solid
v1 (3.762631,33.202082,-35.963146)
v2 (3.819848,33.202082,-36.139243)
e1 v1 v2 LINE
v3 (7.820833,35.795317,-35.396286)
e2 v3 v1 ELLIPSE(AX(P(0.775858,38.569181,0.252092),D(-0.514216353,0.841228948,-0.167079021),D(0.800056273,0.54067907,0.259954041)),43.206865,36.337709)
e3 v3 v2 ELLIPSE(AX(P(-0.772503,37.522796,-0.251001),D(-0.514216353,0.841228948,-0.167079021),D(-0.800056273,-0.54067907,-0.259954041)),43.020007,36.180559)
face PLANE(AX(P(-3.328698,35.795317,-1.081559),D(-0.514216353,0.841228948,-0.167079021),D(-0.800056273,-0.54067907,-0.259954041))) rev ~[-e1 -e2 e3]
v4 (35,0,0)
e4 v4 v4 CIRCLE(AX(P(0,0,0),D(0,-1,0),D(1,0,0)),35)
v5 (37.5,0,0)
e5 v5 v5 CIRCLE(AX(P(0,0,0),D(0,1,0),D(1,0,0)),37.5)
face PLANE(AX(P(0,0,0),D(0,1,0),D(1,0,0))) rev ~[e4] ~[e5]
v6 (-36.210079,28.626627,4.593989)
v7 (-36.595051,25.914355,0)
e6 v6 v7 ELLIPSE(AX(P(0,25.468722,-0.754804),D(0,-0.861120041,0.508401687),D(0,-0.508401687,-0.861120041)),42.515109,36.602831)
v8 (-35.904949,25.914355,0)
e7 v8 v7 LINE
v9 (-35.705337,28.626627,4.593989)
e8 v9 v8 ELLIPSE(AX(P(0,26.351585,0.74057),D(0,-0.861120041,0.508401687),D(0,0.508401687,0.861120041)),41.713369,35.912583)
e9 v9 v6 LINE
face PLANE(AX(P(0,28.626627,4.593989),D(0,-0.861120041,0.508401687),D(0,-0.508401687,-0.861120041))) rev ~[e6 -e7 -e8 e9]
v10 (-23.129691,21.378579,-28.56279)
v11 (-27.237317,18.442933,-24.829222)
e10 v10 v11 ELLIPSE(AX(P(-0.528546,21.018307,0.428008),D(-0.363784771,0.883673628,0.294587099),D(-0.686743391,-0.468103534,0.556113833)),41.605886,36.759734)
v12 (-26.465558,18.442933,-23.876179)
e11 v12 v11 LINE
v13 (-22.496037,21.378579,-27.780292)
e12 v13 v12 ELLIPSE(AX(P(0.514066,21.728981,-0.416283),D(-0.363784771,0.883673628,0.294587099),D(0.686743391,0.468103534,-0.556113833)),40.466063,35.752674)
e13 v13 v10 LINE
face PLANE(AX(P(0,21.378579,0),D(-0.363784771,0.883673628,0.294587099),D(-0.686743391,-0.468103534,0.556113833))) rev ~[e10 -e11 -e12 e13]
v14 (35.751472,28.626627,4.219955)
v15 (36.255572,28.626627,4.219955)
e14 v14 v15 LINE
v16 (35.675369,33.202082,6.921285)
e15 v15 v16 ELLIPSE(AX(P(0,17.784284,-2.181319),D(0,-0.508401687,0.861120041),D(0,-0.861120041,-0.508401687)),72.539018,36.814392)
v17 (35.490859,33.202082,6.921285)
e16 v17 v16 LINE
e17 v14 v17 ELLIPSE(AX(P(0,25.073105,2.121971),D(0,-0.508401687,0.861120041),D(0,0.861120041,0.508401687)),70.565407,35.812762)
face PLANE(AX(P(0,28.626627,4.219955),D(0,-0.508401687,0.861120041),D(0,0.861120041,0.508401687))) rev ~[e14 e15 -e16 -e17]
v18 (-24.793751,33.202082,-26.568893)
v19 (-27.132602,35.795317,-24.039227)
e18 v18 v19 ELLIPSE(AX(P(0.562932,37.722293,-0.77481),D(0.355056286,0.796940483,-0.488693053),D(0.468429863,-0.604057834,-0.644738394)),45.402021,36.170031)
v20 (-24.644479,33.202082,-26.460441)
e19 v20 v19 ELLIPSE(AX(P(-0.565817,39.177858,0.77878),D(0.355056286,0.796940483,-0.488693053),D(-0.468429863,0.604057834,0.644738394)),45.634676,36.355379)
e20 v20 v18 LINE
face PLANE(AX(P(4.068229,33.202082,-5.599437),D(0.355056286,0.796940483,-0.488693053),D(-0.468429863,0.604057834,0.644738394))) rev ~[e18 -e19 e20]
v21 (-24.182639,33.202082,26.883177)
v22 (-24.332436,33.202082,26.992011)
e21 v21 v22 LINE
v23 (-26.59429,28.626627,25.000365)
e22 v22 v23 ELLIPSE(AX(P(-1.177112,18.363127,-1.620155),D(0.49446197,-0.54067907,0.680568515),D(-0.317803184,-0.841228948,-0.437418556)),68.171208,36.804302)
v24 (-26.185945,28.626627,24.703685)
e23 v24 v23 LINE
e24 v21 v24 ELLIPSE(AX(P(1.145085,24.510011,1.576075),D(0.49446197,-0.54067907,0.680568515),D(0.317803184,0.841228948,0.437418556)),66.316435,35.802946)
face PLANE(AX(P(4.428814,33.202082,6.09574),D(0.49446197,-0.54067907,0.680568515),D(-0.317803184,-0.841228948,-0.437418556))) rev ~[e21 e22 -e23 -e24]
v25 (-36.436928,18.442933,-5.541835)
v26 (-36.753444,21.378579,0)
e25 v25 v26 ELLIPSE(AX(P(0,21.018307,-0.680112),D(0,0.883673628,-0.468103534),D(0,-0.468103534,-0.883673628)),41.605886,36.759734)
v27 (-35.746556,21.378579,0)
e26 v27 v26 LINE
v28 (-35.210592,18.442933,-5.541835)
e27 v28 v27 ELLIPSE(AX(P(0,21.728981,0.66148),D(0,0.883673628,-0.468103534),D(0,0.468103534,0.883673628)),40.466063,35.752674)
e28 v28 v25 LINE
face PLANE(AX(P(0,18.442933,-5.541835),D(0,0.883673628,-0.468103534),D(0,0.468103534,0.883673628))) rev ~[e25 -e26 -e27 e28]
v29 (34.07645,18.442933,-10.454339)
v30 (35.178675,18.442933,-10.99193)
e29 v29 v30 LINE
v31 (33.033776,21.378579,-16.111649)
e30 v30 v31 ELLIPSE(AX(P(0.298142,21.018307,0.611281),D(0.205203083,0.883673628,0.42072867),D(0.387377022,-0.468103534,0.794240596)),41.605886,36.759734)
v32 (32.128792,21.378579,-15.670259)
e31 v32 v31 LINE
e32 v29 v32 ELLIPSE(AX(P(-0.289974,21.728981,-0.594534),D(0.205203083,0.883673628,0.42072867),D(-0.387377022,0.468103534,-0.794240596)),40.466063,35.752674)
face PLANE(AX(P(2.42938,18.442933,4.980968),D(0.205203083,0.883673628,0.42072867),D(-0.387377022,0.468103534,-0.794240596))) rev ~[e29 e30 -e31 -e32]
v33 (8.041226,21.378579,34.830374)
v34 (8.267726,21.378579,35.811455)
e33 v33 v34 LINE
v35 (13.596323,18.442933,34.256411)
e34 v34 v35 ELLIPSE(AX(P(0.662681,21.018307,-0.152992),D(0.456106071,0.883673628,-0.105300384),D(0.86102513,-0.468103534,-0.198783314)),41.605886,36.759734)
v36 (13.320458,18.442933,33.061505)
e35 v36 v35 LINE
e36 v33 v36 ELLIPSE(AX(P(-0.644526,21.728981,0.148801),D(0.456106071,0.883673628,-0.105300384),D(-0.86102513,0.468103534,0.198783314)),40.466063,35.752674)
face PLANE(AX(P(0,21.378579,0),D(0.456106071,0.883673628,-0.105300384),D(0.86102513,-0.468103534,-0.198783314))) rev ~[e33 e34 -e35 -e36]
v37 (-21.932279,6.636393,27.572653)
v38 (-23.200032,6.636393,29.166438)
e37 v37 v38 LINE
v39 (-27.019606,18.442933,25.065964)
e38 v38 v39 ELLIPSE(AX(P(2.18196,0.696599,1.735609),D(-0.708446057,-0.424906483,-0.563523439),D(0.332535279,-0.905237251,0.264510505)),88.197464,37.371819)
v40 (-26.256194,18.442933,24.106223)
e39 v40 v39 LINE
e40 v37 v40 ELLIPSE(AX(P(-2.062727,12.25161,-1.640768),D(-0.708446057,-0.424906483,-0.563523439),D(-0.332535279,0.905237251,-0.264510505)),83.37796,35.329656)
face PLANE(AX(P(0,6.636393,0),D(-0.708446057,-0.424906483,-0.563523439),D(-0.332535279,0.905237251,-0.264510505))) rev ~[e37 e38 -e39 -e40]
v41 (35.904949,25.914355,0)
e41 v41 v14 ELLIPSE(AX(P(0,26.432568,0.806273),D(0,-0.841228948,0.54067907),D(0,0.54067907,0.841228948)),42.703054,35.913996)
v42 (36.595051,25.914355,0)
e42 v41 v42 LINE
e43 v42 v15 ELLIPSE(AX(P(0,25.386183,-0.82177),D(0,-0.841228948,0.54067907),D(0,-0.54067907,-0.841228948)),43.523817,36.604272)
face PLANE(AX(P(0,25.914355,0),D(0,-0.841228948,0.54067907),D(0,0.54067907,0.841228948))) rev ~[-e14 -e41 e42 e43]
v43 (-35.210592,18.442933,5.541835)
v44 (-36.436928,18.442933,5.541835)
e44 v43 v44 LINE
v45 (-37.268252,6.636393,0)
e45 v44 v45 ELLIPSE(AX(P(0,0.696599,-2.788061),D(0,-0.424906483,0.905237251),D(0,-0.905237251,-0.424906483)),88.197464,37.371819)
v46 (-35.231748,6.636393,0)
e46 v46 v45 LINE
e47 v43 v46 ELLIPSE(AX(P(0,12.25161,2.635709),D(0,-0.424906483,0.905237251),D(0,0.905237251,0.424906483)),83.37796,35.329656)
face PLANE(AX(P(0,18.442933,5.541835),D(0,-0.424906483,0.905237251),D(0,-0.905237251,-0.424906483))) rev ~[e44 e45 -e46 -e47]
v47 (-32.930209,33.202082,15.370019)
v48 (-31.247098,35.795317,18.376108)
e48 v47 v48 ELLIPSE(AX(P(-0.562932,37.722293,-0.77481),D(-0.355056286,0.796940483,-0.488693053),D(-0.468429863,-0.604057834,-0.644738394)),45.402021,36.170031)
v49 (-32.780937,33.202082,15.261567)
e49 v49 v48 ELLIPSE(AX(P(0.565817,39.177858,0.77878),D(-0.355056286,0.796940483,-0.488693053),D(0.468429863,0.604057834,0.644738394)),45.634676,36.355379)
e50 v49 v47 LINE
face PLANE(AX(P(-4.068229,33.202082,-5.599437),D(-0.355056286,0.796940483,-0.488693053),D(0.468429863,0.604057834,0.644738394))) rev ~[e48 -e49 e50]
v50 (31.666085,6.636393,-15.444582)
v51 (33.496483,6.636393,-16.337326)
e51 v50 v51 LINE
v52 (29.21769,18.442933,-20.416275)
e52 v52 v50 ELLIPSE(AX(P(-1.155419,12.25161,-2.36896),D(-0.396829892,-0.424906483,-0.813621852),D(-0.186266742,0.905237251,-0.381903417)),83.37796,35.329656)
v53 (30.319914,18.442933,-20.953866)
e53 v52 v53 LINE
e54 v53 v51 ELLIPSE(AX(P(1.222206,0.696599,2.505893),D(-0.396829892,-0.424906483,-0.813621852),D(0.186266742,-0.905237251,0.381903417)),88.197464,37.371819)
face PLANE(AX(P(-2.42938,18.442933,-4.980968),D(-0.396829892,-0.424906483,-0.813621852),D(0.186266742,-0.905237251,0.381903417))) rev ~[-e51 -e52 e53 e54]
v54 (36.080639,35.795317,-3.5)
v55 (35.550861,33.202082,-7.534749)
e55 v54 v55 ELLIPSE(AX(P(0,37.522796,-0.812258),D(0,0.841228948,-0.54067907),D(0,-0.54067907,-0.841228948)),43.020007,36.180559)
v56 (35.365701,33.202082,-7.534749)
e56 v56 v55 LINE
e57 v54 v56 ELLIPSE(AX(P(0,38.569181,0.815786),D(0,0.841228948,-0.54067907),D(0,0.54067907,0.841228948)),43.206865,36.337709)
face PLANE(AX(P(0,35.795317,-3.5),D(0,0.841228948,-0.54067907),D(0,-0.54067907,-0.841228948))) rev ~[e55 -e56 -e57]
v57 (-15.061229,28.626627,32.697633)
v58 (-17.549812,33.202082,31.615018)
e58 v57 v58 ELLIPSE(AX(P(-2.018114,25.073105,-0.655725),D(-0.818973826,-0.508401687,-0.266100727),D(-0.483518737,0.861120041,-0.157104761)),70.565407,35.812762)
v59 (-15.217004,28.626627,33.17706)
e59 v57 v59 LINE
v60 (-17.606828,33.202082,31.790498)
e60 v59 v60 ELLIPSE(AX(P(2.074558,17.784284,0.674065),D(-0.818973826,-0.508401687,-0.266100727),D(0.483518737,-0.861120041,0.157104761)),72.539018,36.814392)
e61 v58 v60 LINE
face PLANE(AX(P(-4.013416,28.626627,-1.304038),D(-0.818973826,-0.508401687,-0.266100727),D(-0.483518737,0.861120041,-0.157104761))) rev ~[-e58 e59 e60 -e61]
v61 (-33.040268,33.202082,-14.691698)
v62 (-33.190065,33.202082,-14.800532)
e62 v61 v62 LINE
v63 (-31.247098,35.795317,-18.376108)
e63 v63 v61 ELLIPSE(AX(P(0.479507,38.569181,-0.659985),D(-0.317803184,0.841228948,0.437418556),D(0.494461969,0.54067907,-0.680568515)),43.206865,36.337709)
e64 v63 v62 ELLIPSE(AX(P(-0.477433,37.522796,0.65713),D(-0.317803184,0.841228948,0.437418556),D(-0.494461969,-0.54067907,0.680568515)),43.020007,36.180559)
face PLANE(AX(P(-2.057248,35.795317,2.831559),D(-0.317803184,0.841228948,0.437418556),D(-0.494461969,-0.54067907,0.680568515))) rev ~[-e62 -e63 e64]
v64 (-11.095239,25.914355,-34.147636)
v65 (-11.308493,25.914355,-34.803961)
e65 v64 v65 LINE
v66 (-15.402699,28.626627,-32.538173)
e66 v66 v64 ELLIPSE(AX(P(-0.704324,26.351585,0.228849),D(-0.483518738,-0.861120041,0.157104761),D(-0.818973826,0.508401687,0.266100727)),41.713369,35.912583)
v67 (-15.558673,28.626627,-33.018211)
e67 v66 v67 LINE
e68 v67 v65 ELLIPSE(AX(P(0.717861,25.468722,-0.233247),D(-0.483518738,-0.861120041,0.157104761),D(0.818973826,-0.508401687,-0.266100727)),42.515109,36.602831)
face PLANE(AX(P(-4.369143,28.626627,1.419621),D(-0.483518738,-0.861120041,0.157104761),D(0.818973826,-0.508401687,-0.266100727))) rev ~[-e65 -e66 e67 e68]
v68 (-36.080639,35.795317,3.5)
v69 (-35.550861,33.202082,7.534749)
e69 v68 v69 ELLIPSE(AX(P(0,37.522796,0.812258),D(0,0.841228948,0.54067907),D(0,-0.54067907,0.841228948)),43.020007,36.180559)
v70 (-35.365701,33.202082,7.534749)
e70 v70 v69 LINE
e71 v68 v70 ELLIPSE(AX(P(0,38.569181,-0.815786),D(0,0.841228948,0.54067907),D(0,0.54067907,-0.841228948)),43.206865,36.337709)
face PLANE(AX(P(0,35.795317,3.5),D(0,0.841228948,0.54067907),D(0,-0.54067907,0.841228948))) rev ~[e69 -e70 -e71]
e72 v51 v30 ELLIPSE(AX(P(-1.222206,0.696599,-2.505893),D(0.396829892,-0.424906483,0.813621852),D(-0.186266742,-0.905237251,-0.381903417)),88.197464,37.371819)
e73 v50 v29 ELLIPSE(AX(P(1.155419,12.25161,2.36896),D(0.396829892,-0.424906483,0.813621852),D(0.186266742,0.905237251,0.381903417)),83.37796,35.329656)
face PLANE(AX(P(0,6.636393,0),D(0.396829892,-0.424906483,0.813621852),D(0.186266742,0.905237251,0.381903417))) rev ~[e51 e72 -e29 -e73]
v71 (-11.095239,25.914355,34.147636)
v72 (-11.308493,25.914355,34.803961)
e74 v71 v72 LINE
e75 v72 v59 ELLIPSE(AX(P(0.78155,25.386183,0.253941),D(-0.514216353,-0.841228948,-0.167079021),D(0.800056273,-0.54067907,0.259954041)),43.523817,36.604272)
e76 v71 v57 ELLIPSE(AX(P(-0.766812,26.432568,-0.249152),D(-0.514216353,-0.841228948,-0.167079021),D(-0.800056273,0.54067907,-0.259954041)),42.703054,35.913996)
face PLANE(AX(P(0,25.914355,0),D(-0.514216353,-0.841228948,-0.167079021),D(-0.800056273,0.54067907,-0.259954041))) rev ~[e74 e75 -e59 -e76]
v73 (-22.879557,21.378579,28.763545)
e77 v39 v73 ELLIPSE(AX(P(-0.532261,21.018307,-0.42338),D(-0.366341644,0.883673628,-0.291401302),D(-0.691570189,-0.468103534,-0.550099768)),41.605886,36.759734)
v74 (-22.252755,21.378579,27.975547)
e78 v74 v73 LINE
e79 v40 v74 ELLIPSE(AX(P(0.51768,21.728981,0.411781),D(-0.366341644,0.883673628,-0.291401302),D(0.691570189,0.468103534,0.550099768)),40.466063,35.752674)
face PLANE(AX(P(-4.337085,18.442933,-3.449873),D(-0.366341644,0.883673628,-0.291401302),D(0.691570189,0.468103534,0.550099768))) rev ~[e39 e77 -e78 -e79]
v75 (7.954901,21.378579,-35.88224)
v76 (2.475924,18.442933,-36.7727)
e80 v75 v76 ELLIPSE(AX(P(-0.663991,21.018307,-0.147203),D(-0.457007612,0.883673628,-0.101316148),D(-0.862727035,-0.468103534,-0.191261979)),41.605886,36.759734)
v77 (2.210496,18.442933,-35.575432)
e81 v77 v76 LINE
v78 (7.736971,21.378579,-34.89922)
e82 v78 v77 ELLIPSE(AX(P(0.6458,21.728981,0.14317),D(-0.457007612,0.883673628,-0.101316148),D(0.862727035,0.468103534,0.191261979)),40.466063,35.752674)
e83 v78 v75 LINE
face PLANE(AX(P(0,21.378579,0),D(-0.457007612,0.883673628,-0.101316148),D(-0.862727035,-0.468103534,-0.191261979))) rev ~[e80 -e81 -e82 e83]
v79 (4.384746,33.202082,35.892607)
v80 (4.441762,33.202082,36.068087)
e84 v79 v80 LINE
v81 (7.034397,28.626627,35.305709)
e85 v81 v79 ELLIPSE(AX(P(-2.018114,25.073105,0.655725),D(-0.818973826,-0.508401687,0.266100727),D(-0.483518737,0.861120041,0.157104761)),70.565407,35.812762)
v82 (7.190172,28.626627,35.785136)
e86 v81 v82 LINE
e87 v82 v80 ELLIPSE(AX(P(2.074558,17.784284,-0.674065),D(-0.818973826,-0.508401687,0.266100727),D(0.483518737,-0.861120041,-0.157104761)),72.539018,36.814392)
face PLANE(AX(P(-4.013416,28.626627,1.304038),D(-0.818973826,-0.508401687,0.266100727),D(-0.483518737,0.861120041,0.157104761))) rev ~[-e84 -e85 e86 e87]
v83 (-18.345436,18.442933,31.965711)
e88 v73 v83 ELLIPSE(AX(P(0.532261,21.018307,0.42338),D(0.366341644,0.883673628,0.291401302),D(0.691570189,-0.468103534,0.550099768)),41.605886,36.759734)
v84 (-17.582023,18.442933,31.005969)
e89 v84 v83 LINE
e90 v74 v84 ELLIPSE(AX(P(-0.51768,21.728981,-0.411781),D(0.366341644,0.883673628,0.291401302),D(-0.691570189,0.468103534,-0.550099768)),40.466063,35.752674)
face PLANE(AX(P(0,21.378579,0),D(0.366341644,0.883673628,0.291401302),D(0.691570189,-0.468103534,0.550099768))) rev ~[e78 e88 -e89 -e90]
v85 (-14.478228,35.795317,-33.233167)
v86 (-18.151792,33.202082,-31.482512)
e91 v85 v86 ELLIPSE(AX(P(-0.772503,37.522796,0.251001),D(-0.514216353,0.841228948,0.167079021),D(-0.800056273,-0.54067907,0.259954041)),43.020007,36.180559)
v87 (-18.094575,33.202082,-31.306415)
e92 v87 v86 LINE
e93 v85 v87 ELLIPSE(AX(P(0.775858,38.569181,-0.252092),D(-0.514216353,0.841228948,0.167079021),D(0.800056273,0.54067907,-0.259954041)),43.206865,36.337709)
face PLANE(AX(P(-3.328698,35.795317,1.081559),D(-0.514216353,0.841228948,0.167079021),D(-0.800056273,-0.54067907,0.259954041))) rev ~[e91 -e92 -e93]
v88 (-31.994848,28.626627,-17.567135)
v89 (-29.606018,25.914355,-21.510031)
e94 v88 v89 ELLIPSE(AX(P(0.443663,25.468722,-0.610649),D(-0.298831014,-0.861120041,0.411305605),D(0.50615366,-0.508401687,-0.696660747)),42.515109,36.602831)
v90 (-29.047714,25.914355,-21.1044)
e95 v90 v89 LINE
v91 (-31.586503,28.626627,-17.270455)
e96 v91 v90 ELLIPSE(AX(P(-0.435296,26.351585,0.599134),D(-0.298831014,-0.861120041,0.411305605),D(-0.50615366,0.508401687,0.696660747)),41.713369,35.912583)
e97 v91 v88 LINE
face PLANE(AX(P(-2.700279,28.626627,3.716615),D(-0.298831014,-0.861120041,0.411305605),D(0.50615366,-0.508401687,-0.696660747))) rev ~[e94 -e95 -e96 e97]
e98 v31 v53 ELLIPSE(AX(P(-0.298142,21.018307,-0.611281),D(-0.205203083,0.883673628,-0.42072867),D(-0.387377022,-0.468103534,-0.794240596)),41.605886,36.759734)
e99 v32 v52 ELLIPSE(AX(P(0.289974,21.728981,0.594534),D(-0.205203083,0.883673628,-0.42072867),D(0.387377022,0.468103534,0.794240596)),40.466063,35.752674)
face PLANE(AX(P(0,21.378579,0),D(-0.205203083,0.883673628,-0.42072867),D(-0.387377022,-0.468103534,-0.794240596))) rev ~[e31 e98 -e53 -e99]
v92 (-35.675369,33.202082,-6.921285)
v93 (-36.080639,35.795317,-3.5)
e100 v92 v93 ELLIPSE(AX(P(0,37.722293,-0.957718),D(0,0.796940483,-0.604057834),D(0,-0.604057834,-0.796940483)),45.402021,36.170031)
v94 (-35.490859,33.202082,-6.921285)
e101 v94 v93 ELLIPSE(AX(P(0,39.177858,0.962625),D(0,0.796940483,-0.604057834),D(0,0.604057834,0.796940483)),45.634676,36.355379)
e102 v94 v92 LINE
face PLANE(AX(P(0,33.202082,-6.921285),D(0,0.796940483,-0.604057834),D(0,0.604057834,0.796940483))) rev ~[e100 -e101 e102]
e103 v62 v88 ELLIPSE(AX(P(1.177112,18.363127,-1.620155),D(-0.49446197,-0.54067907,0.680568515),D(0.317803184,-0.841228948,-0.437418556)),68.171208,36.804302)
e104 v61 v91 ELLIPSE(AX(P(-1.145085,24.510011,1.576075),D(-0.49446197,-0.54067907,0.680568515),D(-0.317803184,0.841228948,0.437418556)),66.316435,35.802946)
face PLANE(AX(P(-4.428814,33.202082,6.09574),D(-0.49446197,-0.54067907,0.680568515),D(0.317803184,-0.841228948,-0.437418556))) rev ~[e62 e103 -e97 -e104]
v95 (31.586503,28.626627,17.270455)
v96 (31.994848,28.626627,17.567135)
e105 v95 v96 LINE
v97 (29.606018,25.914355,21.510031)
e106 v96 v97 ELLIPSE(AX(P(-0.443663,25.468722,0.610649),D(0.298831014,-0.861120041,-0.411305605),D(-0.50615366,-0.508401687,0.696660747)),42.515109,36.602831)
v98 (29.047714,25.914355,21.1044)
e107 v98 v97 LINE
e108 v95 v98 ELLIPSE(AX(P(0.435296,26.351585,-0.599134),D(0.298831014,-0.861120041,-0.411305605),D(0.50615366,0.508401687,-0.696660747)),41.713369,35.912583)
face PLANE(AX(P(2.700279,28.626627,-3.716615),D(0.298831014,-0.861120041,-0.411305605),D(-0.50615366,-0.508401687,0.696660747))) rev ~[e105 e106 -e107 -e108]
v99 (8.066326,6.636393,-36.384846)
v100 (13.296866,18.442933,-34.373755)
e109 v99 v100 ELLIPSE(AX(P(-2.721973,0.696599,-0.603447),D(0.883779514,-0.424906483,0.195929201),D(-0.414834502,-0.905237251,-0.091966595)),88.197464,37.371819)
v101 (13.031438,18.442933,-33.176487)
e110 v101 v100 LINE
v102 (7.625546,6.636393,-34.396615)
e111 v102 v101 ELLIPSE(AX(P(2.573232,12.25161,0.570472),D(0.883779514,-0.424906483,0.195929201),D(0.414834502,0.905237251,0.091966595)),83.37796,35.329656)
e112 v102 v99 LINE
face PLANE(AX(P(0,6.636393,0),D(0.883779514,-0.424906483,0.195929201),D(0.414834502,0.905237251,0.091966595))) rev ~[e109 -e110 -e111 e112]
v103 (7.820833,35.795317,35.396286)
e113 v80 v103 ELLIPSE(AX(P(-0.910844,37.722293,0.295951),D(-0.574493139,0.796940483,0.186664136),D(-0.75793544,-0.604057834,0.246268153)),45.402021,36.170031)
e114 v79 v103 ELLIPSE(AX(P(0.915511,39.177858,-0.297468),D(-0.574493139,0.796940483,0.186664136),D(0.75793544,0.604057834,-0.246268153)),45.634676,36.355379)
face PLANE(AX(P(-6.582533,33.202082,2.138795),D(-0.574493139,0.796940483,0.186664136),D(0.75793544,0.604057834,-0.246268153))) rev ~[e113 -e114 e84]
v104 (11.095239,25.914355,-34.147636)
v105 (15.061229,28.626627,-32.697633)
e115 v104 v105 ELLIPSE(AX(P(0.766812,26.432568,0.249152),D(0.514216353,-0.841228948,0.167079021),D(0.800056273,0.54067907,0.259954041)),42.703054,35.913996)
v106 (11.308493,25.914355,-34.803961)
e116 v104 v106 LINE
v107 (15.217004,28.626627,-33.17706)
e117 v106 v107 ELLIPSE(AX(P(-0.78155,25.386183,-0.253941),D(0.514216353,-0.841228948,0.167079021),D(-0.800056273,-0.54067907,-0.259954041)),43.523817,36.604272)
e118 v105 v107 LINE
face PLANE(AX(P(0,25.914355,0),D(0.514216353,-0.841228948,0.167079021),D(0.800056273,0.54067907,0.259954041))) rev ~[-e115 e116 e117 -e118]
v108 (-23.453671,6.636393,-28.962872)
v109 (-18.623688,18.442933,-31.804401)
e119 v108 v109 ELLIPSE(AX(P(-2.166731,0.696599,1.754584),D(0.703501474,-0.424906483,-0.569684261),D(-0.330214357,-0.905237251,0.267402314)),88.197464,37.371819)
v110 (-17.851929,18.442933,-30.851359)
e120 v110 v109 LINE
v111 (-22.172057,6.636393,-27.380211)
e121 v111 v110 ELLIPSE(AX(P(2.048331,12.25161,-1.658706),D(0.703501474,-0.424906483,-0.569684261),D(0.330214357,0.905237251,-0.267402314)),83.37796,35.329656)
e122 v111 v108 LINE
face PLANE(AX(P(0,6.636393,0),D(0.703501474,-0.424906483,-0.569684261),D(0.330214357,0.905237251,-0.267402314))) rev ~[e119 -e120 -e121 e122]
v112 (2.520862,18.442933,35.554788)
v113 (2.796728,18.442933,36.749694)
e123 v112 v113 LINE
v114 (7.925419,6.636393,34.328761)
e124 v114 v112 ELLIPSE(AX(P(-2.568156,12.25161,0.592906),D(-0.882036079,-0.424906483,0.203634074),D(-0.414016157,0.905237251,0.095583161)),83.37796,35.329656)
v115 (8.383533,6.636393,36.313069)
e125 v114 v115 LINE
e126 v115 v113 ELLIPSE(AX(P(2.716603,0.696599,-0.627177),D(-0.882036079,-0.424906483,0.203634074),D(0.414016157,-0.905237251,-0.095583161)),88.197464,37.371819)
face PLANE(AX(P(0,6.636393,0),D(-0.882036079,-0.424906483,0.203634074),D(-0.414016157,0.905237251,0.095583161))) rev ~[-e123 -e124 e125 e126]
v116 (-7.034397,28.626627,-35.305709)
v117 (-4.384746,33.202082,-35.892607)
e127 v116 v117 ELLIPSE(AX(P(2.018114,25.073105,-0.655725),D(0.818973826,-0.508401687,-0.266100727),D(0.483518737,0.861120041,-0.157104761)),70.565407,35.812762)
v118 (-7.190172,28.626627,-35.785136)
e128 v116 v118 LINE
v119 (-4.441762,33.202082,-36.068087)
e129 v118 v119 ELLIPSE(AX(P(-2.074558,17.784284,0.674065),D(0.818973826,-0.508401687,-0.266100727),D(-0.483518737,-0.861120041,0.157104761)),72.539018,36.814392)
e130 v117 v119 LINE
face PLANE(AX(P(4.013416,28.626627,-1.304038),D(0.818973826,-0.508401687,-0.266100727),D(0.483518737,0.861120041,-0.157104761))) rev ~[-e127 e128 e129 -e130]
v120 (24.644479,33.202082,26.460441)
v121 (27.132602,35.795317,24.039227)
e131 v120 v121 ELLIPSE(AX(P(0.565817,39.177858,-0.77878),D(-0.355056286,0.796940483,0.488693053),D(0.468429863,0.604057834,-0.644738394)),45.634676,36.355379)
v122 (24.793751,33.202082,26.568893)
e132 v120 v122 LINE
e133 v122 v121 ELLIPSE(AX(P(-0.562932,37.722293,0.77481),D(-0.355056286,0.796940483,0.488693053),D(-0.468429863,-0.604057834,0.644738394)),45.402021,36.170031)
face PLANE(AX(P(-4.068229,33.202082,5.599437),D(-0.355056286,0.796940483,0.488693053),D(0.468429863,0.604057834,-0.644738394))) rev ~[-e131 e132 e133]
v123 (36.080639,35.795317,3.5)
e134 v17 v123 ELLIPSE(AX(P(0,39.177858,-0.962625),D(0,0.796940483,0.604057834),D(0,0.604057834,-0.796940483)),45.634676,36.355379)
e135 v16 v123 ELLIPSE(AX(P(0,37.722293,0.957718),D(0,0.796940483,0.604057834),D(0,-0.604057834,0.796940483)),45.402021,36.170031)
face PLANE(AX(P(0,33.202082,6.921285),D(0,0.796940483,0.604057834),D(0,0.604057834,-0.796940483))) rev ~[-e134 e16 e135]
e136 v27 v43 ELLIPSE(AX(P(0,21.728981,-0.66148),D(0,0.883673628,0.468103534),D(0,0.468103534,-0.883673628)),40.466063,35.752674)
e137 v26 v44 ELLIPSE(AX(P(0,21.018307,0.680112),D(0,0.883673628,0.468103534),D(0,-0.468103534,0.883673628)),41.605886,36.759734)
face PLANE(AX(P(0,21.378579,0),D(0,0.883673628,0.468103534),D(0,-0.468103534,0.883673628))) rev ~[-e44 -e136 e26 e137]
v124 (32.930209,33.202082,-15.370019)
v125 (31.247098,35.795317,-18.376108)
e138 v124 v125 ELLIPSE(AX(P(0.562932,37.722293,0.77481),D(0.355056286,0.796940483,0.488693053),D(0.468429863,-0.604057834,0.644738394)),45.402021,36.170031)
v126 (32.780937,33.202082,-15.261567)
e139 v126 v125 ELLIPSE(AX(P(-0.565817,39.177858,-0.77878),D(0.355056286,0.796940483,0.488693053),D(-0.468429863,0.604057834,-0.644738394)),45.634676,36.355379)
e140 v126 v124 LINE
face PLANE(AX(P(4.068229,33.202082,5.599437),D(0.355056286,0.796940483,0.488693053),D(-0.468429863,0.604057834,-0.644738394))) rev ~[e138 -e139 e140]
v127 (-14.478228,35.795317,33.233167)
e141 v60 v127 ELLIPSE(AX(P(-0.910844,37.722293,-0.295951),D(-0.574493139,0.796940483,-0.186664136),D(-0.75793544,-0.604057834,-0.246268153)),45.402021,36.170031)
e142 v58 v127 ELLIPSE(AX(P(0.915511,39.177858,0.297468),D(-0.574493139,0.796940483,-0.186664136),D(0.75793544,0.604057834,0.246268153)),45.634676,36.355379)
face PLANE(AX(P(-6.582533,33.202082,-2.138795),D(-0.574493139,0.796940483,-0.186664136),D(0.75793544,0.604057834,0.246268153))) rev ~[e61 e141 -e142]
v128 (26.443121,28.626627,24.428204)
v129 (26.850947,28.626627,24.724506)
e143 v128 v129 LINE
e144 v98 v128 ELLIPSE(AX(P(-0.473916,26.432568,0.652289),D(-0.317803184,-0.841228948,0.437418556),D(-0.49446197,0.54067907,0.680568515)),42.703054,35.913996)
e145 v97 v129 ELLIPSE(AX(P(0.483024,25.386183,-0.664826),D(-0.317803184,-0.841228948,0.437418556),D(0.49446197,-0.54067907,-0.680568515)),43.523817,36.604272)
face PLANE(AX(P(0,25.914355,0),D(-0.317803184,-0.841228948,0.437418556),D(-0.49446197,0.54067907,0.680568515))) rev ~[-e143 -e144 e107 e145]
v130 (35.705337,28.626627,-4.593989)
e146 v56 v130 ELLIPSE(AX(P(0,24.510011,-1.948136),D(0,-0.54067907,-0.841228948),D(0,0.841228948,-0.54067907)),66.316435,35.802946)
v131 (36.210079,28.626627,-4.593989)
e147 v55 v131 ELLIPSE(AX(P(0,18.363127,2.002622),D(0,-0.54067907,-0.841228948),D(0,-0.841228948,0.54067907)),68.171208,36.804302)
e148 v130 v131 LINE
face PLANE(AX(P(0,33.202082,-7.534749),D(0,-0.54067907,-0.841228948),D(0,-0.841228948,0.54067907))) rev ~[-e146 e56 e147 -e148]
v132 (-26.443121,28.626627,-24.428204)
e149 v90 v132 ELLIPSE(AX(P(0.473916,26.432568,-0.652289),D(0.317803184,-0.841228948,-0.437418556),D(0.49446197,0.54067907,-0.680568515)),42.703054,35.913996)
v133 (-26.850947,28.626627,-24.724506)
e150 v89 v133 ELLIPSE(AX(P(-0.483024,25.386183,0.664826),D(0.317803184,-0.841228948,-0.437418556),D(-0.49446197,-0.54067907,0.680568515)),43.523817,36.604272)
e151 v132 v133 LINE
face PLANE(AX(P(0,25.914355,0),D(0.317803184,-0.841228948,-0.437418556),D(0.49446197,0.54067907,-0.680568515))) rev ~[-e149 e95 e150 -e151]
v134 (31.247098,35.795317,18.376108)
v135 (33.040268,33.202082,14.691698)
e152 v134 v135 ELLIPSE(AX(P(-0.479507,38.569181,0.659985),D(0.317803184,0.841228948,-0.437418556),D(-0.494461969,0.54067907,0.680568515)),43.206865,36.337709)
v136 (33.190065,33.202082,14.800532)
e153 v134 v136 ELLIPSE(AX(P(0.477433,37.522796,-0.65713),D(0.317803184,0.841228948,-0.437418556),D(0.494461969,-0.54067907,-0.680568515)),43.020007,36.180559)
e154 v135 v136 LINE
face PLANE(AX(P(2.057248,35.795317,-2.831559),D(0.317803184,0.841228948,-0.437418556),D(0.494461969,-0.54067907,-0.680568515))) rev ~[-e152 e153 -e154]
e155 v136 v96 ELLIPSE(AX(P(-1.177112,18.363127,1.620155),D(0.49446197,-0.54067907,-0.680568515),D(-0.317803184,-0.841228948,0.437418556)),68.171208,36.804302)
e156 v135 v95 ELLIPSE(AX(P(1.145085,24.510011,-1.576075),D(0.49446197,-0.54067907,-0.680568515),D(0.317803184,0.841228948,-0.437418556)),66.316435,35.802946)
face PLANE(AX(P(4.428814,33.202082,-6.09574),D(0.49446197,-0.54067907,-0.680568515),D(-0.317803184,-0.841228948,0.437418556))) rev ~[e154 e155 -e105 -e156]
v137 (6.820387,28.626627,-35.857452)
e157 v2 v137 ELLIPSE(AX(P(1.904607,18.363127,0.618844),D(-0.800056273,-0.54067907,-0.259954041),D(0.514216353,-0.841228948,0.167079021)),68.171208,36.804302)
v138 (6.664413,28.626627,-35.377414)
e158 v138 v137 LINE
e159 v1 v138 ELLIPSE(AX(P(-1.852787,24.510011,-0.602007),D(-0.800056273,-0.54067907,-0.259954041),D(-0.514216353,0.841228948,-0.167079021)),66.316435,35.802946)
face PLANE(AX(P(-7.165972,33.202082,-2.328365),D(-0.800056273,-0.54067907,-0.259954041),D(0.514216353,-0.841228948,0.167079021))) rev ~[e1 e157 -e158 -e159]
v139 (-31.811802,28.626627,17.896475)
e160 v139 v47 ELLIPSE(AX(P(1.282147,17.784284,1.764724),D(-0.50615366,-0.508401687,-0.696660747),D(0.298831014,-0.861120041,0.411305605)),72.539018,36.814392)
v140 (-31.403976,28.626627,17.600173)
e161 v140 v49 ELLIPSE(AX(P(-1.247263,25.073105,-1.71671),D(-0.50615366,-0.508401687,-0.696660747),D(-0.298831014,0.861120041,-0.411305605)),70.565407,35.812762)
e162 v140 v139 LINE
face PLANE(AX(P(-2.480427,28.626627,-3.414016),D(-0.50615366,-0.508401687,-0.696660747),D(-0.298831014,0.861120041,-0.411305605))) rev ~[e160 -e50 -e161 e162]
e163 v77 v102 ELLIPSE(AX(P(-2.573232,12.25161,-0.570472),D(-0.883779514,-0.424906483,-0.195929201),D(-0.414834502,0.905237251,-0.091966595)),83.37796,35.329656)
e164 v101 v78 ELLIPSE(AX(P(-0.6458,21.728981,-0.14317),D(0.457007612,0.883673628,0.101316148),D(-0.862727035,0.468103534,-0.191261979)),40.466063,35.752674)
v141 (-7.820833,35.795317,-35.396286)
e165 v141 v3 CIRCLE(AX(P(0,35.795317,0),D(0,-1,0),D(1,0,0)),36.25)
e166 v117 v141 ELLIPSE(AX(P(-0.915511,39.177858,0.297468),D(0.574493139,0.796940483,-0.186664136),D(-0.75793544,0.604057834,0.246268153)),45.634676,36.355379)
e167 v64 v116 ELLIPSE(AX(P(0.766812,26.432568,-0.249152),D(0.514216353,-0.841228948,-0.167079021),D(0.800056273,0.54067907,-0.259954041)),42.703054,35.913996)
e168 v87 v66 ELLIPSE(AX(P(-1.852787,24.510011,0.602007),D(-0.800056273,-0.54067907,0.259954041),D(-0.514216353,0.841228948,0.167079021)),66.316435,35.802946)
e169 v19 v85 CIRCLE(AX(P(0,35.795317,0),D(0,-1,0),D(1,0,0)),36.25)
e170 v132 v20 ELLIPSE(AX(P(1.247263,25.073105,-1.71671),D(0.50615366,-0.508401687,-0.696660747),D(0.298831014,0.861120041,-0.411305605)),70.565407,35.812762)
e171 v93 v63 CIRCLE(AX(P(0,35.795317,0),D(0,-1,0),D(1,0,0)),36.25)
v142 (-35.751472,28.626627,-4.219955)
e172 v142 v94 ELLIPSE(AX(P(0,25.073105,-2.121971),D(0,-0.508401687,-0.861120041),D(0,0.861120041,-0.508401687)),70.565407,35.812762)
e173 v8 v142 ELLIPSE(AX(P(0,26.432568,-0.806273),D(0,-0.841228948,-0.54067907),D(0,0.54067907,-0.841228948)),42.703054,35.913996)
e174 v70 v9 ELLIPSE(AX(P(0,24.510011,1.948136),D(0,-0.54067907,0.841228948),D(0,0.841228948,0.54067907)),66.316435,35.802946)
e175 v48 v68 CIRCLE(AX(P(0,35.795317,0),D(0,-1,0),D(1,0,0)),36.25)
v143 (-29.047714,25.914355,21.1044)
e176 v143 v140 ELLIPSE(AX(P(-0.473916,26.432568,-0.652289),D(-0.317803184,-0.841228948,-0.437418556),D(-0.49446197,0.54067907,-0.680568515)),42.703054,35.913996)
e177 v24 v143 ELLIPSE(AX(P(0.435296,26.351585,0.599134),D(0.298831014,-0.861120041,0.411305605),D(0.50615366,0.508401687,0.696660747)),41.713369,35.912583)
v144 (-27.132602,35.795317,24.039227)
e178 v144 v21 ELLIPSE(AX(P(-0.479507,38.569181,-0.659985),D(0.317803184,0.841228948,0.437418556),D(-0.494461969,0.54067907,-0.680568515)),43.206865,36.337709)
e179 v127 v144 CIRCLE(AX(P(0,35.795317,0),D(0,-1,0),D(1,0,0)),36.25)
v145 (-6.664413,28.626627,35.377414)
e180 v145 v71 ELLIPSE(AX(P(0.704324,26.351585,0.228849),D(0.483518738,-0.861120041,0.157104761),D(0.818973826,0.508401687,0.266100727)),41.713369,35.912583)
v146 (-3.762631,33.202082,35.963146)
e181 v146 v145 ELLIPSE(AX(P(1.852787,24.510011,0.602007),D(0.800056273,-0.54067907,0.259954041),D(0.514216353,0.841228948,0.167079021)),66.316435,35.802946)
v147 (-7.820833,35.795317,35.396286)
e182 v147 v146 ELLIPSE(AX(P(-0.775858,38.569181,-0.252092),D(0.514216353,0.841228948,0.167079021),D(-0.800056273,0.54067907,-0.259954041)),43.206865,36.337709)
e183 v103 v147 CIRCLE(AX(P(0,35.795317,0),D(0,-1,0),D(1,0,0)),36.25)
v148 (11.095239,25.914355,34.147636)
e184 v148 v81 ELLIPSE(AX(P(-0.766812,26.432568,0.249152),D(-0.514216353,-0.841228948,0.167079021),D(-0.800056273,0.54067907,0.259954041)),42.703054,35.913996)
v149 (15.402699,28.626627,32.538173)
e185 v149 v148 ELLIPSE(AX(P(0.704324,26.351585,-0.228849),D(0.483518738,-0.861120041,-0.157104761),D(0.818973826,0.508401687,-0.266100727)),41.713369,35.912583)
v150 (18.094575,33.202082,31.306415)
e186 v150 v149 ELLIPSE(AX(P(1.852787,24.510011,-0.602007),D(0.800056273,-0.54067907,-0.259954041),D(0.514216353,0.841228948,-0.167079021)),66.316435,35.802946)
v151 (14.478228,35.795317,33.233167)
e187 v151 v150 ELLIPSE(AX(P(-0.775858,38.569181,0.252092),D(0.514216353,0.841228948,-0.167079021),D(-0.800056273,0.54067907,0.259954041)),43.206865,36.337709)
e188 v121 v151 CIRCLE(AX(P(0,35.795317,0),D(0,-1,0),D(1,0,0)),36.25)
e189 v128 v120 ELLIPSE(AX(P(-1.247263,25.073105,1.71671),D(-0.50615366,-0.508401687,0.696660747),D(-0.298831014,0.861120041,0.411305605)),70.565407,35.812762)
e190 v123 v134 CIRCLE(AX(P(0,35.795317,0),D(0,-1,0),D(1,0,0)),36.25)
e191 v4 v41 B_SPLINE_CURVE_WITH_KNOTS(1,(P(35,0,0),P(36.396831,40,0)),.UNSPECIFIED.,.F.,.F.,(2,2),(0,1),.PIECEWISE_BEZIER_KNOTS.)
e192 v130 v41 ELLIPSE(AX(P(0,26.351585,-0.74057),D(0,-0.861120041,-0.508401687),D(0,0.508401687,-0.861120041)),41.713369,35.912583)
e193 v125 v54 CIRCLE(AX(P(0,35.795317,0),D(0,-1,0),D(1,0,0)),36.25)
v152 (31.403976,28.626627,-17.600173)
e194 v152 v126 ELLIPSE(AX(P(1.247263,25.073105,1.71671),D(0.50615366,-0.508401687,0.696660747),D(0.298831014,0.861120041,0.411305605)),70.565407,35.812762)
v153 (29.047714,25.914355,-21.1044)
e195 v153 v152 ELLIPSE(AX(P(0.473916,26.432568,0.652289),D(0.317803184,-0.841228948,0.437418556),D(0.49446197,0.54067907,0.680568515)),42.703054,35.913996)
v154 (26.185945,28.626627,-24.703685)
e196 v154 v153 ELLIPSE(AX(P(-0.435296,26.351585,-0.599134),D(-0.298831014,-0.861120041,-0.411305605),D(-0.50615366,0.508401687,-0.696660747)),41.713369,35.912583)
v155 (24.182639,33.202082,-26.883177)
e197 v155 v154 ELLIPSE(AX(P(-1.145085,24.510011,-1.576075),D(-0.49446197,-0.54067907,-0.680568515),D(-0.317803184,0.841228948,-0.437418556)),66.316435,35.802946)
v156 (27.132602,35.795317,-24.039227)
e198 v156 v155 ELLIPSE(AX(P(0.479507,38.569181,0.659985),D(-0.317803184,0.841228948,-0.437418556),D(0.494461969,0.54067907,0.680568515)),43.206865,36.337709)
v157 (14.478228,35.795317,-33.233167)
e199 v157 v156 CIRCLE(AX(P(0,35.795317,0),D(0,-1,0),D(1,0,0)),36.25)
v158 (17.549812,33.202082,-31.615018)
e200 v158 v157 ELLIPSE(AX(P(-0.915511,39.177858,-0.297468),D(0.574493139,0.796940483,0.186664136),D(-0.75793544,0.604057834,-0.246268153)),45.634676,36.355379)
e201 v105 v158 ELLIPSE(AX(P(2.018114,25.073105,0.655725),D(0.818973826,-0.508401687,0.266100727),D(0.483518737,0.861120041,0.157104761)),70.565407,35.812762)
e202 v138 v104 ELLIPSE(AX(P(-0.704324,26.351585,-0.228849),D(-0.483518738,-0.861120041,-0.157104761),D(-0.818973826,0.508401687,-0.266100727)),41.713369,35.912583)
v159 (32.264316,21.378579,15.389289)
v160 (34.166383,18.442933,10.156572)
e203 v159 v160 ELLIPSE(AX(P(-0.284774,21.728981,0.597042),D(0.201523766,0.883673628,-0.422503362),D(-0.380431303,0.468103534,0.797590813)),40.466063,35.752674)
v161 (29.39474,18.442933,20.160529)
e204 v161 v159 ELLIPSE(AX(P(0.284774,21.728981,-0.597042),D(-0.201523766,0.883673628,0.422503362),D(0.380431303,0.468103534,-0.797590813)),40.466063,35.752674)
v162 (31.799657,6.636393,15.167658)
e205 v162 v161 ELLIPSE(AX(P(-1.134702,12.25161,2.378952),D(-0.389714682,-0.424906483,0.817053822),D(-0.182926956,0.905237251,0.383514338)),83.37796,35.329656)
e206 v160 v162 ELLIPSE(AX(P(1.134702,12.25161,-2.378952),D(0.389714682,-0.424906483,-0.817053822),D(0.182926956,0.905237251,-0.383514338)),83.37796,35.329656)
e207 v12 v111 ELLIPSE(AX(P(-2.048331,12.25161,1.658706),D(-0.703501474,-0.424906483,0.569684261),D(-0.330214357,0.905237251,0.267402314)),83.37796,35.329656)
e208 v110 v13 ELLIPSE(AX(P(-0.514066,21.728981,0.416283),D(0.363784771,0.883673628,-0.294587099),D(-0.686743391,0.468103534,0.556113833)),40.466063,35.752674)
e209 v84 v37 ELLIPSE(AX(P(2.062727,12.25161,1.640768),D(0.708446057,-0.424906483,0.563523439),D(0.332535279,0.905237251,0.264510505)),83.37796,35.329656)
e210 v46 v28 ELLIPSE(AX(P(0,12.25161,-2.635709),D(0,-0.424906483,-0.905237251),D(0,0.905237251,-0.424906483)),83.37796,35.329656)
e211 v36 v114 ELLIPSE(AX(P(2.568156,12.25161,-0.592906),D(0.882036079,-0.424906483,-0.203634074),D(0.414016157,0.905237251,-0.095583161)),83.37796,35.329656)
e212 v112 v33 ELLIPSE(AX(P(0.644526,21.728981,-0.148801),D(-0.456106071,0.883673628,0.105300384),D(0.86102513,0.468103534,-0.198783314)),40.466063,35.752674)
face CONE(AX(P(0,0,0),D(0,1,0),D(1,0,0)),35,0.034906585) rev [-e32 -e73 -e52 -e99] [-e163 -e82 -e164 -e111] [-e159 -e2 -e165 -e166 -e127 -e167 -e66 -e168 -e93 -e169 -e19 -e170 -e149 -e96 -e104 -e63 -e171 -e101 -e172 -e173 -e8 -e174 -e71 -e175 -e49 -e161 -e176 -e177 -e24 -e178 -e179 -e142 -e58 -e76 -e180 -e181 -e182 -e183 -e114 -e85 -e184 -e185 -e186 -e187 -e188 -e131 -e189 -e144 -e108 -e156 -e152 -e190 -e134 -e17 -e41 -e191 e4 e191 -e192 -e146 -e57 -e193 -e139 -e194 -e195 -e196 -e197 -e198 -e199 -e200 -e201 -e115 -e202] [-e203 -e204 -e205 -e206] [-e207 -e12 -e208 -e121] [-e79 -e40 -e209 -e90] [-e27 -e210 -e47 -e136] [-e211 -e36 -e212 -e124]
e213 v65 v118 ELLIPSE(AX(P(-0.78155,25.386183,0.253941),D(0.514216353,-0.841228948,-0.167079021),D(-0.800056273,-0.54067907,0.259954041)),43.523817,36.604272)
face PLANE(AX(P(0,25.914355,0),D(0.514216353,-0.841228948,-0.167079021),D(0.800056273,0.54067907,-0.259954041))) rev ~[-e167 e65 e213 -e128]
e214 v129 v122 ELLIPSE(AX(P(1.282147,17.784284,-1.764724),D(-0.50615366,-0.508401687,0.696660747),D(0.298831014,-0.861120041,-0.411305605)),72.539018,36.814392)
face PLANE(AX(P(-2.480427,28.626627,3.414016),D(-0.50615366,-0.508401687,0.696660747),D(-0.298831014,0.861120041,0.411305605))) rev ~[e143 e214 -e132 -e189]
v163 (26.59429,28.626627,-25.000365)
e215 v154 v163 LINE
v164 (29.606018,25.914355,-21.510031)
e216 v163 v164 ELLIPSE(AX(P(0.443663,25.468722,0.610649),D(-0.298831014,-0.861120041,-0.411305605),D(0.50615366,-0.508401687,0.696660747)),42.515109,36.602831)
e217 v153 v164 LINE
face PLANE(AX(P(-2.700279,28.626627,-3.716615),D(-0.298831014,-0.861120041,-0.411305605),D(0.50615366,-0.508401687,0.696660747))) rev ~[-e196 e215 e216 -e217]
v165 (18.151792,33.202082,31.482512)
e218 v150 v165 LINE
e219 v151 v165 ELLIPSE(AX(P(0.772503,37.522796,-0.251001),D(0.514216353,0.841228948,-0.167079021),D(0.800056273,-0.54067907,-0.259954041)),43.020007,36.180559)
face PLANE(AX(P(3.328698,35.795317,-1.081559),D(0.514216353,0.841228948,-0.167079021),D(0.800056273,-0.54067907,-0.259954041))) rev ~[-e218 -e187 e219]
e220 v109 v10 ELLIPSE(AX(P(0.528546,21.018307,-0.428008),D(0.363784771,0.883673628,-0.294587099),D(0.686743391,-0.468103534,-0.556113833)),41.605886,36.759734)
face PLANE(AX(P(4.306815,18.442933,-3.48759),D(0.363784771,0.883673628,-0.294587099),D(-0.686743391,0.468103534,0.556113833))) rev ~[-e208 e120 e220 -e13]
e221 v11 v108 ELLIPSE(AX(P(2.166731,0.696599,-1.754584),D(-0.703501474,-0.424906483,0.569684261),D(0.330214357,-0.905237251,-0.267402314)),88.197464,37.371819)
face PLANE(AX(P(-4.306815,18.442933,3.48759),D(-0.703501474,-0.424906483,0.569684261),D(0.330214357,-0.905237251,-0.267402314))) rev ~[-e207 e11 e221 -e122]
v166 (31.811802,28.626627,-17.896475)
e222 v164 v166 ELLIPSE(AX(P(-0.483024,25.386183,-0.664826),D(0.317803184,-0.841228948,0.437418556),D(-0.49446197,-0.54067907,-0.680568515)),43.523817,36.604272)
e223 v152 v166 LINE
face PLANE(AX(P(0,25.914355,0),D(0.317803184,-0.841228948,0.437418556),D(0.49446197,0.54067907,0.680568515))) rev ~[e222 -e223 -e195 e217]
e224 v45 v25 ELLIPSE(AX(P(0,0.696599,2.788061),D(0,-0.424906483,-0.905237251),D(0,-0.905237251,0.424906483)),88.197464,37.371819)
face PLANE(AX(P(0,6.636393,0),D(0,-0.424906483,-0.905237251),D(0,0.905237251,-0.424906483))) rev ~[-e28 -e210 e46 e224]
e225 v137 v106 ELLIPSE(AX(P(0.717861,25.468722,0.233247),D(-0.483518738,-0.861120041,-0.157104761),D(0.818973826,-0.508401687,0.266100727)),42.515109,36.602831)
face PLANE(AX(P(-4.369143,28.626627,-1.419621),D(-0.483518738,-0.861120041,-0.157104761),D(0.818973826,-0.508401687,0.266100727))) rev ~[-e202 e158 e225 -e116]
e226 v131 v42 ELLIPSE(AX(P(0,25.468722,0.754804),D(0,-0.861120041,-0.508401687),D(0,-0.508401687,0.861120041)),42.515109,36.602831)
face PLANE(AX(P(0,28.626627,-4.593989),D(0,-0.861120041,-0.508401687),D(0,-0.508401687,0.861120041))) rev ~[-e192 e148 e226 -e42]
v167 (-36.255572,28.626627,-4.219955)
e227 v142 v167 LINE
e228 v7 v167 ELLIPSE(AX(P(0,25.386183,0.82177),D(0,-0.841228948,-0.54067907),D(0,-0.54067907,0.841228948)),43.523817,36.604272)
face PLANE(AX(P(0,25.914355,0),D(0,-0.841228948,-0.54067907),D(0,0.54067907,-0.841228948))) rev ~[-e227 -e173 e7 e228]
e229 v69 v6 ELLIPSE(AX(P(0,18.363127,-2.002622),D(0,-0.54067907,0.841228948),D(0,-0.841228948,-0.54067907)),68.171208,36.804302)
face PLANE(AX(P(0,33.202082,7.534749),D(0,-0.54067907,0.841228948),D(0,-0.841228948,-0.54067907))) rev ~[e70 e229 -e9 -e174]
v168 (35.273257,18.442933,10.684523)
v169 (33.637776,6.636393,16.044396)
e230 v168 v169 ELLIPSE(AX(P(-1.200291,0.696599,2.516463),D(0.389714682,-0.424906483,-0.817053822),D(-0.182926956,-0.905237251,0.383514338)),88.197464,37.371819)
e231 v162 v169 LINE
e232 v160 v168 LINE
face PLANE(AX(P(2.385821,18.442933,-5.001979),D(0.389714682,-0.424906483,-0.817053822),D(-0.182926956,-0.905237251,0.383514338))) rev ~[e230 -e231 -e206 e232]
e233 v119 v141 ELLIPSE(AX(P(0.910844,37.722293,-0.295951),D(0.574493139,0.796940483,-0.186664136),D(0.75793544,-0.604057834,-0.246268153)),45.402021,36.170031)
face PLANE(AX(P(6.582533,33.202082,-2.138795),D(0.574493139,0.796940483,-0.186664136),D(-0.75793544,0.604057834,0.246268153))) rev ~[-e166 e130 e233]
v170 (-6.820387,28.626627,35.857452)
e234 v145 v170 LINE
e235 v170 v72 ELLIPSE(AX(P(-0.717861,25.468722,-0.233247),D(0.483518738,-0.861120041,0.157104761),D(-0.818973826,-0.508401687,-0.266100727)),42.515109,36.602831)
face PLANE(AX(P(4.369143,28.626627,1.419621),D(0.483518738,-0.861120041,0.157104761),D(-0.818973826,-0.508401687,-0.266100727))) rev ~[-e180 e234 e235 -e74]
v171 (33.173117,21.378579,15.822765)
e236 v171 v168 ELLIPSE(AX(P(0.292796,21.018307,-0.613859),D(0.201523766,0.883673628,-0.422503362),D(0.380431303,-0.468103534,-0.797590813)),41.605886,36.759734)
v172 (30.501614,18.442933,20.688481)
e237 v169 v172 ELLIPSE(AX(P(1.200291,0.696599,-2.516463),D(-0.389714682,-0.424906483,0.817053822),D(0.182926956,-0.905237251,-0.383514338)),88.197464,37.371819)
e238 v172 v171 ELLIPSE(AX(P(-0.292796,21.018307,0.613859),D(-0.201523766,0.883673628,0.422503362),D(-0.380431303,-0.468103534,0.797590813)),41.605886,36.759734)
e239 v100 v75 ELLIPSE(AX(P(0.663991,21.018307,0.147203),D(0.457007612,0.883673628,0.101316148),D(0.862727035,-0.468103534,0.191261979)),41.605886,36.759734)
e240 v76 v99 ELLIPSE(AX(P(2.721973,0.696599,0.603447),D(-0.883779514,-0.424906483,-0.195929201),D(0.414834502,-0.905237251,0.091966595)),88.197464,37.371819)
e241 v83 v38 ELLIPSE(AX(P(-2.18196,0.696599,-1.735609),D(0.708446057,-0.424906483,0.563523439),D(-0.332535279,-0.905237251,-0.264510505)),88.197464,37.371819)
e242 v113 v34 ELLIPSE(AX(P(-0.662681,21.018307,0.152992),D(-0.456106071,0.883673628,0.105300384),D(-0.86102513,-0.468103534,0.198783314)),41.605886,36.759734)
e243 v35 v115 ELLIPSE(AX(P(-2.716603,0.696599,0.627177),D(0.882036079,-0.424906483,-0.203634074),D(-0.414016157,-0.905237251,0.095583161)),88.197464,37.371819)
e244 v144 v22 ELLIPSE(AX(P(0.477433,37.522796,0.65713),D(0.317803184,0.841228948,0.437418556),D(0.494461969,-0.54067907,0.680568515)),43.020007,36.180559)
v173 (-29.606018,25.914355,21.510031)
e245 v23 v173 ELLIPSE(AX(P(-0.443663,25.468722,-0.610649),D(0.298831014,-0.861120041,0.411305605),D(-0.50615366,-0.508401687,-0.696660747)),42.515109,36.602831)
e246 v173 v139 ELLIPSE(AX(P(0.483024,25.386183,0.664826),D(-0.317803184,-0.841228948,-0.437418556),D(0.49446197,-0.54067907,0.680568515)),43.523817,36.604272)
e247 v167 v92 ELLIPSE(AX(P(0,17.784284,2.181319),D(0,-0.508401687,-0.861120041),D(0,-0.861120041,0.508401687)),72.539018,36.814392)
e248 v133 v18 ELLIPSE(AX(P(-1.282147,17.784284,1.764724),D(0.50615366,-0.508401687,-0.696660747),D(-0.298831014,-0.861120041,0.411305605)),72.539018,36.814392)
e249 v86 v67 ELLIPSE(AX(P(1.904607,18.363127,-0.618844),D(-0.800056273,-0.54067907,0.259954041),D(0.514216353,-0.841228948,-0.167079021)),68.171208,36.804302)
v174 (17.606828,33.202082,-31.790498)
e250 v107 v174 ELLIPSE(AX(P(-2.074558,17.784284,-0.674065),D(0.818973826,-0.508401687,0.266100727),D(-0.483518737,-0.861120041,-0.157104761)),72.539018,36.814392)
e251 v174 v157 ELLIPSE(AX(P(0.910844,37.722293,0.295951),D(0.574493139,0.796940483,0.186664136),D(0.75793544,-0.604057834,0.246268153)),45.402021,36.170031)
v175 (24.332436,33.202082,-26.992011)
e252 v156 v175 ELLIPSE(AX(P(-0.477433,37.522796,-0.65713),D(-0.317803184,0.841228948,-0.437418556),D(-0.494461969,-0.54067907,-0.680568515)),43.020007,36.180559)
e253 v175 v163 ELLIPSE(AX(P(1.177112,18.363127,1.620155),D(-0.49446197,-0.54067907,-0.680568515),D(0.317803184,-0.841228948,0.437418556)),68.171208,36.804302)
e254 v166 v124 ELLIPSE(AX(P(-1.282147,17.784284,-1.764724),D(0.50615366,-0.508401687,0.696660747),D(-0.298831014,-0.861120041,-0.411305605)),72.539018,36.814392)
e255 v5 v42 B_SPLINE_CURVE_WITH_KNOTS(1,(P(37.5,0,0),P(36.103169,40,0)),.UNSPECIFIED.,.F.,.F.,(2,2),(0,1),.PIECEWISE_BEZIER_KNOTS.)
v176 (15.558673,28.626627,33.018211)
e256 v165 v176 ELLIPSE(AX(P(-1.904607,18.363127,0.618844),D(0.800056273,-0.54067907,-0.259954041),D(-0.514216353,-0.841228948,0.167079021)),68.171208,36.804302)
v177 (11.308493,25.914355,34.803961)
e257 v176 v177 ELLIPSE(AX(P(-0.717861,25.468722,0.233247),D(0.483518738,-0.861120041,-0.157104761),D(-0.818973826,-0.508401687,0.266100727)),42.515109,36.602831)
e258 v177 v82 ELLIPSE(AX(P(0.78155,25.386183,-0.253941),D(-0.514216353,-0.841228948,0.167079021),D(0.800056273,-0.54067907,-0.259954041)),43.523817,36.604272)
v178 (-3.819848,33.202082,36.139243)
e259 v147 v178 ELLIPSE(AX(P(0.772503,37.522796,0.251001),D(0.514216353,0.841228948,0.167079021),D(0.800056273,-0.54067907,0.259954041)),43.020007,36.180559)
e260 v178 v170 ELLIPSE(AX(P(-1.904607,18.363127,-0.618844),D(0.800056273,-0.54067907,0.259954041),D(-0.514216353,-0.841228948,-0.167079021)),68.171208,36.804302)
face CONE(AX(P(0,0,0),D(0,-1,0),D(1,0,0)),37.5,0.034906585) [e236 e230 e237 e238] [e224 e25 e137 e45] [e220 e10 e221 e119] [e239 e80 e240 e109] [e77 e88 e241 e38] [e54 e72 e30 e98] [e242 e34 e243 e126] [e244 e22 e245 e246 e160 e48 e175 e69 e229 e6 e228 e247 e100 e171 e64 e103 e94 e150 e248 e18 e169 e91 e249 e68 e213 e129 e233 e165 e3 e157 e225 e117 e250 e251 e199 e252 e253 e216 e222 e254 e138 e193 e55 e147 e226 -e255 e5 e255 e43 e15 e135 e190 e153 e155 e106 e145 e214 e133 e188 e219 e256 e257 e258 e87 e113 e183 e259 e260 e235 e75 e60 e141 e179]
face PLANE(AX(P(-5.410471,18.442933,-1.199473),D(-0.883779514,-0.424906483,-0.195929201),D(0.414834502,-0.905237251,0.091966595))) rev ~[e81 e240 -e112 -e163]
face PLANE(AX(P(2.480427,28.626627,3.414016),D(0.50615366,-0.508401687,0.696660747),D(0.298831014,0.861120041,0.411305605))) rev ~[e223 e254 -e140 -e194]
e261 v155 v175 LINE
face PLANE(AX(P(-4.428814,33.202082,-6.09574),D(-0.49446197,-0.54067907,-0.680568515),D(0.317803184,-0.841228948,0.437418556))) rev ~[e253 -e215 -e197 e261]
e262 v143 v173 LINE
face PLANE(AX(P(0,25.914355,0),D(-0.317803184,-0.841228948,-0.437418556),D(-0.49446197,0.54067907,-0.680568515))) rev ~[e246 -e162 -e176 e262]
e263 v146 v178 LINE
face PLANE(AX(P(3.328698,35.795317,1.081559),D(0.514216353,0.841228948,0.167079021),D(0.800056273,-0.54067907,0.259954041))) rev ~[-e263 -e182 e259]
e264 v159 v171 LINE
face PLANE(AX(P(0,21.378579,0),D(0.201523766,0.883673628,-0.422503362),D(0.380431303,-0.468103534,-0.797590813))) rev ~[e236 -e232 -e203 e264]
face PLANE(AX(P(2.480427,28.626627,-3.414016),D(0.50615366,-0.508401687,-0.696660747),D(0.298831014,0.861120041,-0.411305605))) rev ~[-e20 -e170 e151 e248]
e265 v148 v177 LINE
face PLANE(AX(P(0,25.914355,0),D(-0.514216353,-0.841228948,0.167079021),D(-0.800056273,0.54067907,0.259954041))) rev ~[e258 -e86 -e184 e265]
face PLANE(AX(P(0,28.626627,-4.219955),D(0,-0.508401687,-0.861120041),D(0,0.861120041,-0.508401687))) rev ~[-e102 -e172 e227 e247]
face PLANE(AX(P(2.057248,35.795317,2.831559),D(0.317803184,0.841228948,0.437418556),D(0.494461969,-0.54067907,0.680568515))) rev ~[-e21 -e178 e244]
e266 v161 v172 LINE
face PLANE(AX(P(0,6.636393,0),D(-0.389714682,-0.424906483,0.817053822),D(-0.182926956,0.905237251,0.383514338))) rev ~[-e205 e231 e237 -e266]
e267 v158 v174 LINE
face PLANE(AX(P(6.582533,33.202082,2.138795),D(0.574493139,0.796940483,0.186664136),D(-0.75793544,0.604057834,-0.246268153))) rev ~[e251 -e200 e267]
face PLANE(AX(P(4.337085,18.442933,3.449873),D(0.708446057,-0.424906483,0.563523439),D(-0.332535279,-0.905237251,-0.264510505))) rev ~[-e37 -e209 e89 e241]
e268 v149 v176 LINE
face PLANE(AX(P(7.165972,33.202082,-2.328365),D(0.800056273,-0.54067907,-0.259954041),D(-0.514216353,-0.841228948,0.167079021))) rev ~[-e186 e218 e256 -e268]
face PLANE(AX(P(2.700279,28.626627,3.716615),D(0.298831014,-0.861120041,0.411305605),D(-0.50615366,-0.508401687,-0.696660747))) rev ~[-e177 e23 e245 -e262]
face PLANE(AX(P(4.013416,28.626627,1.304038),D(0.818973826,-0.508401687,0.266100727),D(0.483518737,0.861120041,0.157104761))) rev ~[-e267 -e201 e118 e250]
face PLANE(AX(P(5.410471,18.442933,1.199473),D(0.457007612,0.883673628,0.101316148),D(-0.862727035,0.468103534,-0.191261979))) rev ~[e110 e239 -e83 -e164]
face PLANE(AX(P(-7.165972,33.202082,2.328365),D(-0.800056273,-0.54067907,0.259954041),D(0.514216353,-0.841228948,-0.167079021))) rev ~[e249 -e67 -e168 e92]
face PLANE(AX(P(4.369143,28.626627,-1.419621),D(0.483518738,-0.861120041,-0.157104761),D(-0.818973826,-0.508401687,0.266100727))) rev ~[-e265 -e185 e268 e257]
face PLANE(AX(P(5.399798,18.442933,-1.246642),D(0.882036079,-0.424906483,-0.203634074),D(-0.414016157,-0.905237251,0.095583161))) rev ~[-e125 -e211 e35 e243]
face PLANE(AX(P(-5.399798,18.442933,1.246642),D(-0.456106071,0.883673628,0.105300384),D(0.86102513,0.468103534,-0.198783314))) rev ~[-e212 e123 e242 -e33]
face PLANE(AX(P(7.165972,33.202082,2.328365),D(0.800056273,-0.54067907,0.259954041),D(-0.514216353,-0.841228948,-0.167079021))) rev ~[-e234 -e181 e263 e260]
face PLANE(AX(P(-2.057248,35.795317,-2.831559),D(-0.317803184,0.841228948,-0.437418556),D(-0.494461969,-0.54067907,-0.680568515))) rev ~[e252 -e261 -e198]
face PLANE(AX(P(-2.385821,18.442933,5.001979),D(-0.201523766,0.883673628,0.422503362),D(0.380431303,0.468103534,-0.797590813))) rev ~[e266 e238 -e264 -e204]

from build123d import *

# Parameters (mm, degrees)
SKETCH1_R           = 37.5
SKETCH1_R_2         = 35
BOSS_EXTRUDE1_DEPTH = 40
BOSS_EXTRUDE1_TAPER = 2
CUT_EXTRUDE1_DEPTH  = 40
CIRPATTERN1_COUNT   = 10
CUT_EXTRUDE2_DEPTH  = 40
CIRPATTERN2_COUNT   = 7
CIRPATTERN2_ANGLE   = 309


with BuildPart() as part:
    # Sketch1 → Boss-Extrude1 (new body)
    with BuildSketch(Plane(origin=(0, 0, 0), x_dir=(1, 0, 0), z_dir=(0, 1, 0))):
        Circle(SKETCH1_R)
        Circle(SKETCH1_R_2, mode=Mode.SUBTRACT)
    extrude(amount=BOSS_EXTRUDE1_DEPTH, taper=BOSS_EXTRUDE1_TAPER)

    # Sketch2 → Cut-Extrude1 (cut)
    with BuildSketch(Plane(origin=(0, 0, 0), x_dir=(0, 0, -1), z_dir=(1, 0, 0))):
        with BuildLine():
            Line((-3.5, 35.795316604), (-7.534748759, 33.202081775))
            Line((-7.534748759, 33.202081775), (-4.593988586, 28.626627084))
            Line((-4.593988586, 28.626627084), (0, 25.914355347))
            Line((0, 25.914355347), (4.219955288, 28.626627084))
            Line((4.219955288, 28.626627084), (6.92128469, 33.202081775))
            Line((6.92128469, 33.202081775), (3.5, 35.795316604))
            ThreePointArc((3.5, 35.795316604), (0, 39.295316604), (-3.5, 35.795316604))
        make_face()
    cut_extrude1 = extrude(amount=-CUT_EXTRUDE1_DEPTH, mode=Mode.SUBTRACT)

    # CirPattern1: Cut-Extrude1 ×10 about axis
    cirpattern1_axis = Axis((0, 0, 0), (0, 1, 0))
    for i in range(1, CIRPATTERN1_COUNT):
        add(cut_extrude1.rotate(cirpattern1_axis, i * 360 / CIRPATTERN1_COUNT), mode=Mode.SUBTRACT)

    # Sketch3 → Cut-Extrude2 (cut)
    with BuildSketch(Plane(origin=(0, 0, 0), x_dir=(0, 0, -1), z_dir=(1, 0, 0))):
        Polygon((0, 21.378578538), (-5.541834778, 18.44293311), (0, 6.63639335), (5.541834778, 18.44293311), align=None)
    cut_extrude2 = extrude(amount=-CUT_EXTRUDE2_DEPTH, mode=Mode.SUBTRACT)

    # CirPattern2: Cut-Extrude2 ×7 about axis
    cirpattern2_axis = Axis((0, 0, 0), (0, 1, 0))
    for i in range(1, CIRPATTERN2_COUNT):
        add(cut_extrude2.rotate(cirpattern2_axis, i * CIRPATTERN2_ANGLE / (CIRPATTERN2_COUNT - 1)), mode=Mode.SUBTRACT)


solid = part.part
